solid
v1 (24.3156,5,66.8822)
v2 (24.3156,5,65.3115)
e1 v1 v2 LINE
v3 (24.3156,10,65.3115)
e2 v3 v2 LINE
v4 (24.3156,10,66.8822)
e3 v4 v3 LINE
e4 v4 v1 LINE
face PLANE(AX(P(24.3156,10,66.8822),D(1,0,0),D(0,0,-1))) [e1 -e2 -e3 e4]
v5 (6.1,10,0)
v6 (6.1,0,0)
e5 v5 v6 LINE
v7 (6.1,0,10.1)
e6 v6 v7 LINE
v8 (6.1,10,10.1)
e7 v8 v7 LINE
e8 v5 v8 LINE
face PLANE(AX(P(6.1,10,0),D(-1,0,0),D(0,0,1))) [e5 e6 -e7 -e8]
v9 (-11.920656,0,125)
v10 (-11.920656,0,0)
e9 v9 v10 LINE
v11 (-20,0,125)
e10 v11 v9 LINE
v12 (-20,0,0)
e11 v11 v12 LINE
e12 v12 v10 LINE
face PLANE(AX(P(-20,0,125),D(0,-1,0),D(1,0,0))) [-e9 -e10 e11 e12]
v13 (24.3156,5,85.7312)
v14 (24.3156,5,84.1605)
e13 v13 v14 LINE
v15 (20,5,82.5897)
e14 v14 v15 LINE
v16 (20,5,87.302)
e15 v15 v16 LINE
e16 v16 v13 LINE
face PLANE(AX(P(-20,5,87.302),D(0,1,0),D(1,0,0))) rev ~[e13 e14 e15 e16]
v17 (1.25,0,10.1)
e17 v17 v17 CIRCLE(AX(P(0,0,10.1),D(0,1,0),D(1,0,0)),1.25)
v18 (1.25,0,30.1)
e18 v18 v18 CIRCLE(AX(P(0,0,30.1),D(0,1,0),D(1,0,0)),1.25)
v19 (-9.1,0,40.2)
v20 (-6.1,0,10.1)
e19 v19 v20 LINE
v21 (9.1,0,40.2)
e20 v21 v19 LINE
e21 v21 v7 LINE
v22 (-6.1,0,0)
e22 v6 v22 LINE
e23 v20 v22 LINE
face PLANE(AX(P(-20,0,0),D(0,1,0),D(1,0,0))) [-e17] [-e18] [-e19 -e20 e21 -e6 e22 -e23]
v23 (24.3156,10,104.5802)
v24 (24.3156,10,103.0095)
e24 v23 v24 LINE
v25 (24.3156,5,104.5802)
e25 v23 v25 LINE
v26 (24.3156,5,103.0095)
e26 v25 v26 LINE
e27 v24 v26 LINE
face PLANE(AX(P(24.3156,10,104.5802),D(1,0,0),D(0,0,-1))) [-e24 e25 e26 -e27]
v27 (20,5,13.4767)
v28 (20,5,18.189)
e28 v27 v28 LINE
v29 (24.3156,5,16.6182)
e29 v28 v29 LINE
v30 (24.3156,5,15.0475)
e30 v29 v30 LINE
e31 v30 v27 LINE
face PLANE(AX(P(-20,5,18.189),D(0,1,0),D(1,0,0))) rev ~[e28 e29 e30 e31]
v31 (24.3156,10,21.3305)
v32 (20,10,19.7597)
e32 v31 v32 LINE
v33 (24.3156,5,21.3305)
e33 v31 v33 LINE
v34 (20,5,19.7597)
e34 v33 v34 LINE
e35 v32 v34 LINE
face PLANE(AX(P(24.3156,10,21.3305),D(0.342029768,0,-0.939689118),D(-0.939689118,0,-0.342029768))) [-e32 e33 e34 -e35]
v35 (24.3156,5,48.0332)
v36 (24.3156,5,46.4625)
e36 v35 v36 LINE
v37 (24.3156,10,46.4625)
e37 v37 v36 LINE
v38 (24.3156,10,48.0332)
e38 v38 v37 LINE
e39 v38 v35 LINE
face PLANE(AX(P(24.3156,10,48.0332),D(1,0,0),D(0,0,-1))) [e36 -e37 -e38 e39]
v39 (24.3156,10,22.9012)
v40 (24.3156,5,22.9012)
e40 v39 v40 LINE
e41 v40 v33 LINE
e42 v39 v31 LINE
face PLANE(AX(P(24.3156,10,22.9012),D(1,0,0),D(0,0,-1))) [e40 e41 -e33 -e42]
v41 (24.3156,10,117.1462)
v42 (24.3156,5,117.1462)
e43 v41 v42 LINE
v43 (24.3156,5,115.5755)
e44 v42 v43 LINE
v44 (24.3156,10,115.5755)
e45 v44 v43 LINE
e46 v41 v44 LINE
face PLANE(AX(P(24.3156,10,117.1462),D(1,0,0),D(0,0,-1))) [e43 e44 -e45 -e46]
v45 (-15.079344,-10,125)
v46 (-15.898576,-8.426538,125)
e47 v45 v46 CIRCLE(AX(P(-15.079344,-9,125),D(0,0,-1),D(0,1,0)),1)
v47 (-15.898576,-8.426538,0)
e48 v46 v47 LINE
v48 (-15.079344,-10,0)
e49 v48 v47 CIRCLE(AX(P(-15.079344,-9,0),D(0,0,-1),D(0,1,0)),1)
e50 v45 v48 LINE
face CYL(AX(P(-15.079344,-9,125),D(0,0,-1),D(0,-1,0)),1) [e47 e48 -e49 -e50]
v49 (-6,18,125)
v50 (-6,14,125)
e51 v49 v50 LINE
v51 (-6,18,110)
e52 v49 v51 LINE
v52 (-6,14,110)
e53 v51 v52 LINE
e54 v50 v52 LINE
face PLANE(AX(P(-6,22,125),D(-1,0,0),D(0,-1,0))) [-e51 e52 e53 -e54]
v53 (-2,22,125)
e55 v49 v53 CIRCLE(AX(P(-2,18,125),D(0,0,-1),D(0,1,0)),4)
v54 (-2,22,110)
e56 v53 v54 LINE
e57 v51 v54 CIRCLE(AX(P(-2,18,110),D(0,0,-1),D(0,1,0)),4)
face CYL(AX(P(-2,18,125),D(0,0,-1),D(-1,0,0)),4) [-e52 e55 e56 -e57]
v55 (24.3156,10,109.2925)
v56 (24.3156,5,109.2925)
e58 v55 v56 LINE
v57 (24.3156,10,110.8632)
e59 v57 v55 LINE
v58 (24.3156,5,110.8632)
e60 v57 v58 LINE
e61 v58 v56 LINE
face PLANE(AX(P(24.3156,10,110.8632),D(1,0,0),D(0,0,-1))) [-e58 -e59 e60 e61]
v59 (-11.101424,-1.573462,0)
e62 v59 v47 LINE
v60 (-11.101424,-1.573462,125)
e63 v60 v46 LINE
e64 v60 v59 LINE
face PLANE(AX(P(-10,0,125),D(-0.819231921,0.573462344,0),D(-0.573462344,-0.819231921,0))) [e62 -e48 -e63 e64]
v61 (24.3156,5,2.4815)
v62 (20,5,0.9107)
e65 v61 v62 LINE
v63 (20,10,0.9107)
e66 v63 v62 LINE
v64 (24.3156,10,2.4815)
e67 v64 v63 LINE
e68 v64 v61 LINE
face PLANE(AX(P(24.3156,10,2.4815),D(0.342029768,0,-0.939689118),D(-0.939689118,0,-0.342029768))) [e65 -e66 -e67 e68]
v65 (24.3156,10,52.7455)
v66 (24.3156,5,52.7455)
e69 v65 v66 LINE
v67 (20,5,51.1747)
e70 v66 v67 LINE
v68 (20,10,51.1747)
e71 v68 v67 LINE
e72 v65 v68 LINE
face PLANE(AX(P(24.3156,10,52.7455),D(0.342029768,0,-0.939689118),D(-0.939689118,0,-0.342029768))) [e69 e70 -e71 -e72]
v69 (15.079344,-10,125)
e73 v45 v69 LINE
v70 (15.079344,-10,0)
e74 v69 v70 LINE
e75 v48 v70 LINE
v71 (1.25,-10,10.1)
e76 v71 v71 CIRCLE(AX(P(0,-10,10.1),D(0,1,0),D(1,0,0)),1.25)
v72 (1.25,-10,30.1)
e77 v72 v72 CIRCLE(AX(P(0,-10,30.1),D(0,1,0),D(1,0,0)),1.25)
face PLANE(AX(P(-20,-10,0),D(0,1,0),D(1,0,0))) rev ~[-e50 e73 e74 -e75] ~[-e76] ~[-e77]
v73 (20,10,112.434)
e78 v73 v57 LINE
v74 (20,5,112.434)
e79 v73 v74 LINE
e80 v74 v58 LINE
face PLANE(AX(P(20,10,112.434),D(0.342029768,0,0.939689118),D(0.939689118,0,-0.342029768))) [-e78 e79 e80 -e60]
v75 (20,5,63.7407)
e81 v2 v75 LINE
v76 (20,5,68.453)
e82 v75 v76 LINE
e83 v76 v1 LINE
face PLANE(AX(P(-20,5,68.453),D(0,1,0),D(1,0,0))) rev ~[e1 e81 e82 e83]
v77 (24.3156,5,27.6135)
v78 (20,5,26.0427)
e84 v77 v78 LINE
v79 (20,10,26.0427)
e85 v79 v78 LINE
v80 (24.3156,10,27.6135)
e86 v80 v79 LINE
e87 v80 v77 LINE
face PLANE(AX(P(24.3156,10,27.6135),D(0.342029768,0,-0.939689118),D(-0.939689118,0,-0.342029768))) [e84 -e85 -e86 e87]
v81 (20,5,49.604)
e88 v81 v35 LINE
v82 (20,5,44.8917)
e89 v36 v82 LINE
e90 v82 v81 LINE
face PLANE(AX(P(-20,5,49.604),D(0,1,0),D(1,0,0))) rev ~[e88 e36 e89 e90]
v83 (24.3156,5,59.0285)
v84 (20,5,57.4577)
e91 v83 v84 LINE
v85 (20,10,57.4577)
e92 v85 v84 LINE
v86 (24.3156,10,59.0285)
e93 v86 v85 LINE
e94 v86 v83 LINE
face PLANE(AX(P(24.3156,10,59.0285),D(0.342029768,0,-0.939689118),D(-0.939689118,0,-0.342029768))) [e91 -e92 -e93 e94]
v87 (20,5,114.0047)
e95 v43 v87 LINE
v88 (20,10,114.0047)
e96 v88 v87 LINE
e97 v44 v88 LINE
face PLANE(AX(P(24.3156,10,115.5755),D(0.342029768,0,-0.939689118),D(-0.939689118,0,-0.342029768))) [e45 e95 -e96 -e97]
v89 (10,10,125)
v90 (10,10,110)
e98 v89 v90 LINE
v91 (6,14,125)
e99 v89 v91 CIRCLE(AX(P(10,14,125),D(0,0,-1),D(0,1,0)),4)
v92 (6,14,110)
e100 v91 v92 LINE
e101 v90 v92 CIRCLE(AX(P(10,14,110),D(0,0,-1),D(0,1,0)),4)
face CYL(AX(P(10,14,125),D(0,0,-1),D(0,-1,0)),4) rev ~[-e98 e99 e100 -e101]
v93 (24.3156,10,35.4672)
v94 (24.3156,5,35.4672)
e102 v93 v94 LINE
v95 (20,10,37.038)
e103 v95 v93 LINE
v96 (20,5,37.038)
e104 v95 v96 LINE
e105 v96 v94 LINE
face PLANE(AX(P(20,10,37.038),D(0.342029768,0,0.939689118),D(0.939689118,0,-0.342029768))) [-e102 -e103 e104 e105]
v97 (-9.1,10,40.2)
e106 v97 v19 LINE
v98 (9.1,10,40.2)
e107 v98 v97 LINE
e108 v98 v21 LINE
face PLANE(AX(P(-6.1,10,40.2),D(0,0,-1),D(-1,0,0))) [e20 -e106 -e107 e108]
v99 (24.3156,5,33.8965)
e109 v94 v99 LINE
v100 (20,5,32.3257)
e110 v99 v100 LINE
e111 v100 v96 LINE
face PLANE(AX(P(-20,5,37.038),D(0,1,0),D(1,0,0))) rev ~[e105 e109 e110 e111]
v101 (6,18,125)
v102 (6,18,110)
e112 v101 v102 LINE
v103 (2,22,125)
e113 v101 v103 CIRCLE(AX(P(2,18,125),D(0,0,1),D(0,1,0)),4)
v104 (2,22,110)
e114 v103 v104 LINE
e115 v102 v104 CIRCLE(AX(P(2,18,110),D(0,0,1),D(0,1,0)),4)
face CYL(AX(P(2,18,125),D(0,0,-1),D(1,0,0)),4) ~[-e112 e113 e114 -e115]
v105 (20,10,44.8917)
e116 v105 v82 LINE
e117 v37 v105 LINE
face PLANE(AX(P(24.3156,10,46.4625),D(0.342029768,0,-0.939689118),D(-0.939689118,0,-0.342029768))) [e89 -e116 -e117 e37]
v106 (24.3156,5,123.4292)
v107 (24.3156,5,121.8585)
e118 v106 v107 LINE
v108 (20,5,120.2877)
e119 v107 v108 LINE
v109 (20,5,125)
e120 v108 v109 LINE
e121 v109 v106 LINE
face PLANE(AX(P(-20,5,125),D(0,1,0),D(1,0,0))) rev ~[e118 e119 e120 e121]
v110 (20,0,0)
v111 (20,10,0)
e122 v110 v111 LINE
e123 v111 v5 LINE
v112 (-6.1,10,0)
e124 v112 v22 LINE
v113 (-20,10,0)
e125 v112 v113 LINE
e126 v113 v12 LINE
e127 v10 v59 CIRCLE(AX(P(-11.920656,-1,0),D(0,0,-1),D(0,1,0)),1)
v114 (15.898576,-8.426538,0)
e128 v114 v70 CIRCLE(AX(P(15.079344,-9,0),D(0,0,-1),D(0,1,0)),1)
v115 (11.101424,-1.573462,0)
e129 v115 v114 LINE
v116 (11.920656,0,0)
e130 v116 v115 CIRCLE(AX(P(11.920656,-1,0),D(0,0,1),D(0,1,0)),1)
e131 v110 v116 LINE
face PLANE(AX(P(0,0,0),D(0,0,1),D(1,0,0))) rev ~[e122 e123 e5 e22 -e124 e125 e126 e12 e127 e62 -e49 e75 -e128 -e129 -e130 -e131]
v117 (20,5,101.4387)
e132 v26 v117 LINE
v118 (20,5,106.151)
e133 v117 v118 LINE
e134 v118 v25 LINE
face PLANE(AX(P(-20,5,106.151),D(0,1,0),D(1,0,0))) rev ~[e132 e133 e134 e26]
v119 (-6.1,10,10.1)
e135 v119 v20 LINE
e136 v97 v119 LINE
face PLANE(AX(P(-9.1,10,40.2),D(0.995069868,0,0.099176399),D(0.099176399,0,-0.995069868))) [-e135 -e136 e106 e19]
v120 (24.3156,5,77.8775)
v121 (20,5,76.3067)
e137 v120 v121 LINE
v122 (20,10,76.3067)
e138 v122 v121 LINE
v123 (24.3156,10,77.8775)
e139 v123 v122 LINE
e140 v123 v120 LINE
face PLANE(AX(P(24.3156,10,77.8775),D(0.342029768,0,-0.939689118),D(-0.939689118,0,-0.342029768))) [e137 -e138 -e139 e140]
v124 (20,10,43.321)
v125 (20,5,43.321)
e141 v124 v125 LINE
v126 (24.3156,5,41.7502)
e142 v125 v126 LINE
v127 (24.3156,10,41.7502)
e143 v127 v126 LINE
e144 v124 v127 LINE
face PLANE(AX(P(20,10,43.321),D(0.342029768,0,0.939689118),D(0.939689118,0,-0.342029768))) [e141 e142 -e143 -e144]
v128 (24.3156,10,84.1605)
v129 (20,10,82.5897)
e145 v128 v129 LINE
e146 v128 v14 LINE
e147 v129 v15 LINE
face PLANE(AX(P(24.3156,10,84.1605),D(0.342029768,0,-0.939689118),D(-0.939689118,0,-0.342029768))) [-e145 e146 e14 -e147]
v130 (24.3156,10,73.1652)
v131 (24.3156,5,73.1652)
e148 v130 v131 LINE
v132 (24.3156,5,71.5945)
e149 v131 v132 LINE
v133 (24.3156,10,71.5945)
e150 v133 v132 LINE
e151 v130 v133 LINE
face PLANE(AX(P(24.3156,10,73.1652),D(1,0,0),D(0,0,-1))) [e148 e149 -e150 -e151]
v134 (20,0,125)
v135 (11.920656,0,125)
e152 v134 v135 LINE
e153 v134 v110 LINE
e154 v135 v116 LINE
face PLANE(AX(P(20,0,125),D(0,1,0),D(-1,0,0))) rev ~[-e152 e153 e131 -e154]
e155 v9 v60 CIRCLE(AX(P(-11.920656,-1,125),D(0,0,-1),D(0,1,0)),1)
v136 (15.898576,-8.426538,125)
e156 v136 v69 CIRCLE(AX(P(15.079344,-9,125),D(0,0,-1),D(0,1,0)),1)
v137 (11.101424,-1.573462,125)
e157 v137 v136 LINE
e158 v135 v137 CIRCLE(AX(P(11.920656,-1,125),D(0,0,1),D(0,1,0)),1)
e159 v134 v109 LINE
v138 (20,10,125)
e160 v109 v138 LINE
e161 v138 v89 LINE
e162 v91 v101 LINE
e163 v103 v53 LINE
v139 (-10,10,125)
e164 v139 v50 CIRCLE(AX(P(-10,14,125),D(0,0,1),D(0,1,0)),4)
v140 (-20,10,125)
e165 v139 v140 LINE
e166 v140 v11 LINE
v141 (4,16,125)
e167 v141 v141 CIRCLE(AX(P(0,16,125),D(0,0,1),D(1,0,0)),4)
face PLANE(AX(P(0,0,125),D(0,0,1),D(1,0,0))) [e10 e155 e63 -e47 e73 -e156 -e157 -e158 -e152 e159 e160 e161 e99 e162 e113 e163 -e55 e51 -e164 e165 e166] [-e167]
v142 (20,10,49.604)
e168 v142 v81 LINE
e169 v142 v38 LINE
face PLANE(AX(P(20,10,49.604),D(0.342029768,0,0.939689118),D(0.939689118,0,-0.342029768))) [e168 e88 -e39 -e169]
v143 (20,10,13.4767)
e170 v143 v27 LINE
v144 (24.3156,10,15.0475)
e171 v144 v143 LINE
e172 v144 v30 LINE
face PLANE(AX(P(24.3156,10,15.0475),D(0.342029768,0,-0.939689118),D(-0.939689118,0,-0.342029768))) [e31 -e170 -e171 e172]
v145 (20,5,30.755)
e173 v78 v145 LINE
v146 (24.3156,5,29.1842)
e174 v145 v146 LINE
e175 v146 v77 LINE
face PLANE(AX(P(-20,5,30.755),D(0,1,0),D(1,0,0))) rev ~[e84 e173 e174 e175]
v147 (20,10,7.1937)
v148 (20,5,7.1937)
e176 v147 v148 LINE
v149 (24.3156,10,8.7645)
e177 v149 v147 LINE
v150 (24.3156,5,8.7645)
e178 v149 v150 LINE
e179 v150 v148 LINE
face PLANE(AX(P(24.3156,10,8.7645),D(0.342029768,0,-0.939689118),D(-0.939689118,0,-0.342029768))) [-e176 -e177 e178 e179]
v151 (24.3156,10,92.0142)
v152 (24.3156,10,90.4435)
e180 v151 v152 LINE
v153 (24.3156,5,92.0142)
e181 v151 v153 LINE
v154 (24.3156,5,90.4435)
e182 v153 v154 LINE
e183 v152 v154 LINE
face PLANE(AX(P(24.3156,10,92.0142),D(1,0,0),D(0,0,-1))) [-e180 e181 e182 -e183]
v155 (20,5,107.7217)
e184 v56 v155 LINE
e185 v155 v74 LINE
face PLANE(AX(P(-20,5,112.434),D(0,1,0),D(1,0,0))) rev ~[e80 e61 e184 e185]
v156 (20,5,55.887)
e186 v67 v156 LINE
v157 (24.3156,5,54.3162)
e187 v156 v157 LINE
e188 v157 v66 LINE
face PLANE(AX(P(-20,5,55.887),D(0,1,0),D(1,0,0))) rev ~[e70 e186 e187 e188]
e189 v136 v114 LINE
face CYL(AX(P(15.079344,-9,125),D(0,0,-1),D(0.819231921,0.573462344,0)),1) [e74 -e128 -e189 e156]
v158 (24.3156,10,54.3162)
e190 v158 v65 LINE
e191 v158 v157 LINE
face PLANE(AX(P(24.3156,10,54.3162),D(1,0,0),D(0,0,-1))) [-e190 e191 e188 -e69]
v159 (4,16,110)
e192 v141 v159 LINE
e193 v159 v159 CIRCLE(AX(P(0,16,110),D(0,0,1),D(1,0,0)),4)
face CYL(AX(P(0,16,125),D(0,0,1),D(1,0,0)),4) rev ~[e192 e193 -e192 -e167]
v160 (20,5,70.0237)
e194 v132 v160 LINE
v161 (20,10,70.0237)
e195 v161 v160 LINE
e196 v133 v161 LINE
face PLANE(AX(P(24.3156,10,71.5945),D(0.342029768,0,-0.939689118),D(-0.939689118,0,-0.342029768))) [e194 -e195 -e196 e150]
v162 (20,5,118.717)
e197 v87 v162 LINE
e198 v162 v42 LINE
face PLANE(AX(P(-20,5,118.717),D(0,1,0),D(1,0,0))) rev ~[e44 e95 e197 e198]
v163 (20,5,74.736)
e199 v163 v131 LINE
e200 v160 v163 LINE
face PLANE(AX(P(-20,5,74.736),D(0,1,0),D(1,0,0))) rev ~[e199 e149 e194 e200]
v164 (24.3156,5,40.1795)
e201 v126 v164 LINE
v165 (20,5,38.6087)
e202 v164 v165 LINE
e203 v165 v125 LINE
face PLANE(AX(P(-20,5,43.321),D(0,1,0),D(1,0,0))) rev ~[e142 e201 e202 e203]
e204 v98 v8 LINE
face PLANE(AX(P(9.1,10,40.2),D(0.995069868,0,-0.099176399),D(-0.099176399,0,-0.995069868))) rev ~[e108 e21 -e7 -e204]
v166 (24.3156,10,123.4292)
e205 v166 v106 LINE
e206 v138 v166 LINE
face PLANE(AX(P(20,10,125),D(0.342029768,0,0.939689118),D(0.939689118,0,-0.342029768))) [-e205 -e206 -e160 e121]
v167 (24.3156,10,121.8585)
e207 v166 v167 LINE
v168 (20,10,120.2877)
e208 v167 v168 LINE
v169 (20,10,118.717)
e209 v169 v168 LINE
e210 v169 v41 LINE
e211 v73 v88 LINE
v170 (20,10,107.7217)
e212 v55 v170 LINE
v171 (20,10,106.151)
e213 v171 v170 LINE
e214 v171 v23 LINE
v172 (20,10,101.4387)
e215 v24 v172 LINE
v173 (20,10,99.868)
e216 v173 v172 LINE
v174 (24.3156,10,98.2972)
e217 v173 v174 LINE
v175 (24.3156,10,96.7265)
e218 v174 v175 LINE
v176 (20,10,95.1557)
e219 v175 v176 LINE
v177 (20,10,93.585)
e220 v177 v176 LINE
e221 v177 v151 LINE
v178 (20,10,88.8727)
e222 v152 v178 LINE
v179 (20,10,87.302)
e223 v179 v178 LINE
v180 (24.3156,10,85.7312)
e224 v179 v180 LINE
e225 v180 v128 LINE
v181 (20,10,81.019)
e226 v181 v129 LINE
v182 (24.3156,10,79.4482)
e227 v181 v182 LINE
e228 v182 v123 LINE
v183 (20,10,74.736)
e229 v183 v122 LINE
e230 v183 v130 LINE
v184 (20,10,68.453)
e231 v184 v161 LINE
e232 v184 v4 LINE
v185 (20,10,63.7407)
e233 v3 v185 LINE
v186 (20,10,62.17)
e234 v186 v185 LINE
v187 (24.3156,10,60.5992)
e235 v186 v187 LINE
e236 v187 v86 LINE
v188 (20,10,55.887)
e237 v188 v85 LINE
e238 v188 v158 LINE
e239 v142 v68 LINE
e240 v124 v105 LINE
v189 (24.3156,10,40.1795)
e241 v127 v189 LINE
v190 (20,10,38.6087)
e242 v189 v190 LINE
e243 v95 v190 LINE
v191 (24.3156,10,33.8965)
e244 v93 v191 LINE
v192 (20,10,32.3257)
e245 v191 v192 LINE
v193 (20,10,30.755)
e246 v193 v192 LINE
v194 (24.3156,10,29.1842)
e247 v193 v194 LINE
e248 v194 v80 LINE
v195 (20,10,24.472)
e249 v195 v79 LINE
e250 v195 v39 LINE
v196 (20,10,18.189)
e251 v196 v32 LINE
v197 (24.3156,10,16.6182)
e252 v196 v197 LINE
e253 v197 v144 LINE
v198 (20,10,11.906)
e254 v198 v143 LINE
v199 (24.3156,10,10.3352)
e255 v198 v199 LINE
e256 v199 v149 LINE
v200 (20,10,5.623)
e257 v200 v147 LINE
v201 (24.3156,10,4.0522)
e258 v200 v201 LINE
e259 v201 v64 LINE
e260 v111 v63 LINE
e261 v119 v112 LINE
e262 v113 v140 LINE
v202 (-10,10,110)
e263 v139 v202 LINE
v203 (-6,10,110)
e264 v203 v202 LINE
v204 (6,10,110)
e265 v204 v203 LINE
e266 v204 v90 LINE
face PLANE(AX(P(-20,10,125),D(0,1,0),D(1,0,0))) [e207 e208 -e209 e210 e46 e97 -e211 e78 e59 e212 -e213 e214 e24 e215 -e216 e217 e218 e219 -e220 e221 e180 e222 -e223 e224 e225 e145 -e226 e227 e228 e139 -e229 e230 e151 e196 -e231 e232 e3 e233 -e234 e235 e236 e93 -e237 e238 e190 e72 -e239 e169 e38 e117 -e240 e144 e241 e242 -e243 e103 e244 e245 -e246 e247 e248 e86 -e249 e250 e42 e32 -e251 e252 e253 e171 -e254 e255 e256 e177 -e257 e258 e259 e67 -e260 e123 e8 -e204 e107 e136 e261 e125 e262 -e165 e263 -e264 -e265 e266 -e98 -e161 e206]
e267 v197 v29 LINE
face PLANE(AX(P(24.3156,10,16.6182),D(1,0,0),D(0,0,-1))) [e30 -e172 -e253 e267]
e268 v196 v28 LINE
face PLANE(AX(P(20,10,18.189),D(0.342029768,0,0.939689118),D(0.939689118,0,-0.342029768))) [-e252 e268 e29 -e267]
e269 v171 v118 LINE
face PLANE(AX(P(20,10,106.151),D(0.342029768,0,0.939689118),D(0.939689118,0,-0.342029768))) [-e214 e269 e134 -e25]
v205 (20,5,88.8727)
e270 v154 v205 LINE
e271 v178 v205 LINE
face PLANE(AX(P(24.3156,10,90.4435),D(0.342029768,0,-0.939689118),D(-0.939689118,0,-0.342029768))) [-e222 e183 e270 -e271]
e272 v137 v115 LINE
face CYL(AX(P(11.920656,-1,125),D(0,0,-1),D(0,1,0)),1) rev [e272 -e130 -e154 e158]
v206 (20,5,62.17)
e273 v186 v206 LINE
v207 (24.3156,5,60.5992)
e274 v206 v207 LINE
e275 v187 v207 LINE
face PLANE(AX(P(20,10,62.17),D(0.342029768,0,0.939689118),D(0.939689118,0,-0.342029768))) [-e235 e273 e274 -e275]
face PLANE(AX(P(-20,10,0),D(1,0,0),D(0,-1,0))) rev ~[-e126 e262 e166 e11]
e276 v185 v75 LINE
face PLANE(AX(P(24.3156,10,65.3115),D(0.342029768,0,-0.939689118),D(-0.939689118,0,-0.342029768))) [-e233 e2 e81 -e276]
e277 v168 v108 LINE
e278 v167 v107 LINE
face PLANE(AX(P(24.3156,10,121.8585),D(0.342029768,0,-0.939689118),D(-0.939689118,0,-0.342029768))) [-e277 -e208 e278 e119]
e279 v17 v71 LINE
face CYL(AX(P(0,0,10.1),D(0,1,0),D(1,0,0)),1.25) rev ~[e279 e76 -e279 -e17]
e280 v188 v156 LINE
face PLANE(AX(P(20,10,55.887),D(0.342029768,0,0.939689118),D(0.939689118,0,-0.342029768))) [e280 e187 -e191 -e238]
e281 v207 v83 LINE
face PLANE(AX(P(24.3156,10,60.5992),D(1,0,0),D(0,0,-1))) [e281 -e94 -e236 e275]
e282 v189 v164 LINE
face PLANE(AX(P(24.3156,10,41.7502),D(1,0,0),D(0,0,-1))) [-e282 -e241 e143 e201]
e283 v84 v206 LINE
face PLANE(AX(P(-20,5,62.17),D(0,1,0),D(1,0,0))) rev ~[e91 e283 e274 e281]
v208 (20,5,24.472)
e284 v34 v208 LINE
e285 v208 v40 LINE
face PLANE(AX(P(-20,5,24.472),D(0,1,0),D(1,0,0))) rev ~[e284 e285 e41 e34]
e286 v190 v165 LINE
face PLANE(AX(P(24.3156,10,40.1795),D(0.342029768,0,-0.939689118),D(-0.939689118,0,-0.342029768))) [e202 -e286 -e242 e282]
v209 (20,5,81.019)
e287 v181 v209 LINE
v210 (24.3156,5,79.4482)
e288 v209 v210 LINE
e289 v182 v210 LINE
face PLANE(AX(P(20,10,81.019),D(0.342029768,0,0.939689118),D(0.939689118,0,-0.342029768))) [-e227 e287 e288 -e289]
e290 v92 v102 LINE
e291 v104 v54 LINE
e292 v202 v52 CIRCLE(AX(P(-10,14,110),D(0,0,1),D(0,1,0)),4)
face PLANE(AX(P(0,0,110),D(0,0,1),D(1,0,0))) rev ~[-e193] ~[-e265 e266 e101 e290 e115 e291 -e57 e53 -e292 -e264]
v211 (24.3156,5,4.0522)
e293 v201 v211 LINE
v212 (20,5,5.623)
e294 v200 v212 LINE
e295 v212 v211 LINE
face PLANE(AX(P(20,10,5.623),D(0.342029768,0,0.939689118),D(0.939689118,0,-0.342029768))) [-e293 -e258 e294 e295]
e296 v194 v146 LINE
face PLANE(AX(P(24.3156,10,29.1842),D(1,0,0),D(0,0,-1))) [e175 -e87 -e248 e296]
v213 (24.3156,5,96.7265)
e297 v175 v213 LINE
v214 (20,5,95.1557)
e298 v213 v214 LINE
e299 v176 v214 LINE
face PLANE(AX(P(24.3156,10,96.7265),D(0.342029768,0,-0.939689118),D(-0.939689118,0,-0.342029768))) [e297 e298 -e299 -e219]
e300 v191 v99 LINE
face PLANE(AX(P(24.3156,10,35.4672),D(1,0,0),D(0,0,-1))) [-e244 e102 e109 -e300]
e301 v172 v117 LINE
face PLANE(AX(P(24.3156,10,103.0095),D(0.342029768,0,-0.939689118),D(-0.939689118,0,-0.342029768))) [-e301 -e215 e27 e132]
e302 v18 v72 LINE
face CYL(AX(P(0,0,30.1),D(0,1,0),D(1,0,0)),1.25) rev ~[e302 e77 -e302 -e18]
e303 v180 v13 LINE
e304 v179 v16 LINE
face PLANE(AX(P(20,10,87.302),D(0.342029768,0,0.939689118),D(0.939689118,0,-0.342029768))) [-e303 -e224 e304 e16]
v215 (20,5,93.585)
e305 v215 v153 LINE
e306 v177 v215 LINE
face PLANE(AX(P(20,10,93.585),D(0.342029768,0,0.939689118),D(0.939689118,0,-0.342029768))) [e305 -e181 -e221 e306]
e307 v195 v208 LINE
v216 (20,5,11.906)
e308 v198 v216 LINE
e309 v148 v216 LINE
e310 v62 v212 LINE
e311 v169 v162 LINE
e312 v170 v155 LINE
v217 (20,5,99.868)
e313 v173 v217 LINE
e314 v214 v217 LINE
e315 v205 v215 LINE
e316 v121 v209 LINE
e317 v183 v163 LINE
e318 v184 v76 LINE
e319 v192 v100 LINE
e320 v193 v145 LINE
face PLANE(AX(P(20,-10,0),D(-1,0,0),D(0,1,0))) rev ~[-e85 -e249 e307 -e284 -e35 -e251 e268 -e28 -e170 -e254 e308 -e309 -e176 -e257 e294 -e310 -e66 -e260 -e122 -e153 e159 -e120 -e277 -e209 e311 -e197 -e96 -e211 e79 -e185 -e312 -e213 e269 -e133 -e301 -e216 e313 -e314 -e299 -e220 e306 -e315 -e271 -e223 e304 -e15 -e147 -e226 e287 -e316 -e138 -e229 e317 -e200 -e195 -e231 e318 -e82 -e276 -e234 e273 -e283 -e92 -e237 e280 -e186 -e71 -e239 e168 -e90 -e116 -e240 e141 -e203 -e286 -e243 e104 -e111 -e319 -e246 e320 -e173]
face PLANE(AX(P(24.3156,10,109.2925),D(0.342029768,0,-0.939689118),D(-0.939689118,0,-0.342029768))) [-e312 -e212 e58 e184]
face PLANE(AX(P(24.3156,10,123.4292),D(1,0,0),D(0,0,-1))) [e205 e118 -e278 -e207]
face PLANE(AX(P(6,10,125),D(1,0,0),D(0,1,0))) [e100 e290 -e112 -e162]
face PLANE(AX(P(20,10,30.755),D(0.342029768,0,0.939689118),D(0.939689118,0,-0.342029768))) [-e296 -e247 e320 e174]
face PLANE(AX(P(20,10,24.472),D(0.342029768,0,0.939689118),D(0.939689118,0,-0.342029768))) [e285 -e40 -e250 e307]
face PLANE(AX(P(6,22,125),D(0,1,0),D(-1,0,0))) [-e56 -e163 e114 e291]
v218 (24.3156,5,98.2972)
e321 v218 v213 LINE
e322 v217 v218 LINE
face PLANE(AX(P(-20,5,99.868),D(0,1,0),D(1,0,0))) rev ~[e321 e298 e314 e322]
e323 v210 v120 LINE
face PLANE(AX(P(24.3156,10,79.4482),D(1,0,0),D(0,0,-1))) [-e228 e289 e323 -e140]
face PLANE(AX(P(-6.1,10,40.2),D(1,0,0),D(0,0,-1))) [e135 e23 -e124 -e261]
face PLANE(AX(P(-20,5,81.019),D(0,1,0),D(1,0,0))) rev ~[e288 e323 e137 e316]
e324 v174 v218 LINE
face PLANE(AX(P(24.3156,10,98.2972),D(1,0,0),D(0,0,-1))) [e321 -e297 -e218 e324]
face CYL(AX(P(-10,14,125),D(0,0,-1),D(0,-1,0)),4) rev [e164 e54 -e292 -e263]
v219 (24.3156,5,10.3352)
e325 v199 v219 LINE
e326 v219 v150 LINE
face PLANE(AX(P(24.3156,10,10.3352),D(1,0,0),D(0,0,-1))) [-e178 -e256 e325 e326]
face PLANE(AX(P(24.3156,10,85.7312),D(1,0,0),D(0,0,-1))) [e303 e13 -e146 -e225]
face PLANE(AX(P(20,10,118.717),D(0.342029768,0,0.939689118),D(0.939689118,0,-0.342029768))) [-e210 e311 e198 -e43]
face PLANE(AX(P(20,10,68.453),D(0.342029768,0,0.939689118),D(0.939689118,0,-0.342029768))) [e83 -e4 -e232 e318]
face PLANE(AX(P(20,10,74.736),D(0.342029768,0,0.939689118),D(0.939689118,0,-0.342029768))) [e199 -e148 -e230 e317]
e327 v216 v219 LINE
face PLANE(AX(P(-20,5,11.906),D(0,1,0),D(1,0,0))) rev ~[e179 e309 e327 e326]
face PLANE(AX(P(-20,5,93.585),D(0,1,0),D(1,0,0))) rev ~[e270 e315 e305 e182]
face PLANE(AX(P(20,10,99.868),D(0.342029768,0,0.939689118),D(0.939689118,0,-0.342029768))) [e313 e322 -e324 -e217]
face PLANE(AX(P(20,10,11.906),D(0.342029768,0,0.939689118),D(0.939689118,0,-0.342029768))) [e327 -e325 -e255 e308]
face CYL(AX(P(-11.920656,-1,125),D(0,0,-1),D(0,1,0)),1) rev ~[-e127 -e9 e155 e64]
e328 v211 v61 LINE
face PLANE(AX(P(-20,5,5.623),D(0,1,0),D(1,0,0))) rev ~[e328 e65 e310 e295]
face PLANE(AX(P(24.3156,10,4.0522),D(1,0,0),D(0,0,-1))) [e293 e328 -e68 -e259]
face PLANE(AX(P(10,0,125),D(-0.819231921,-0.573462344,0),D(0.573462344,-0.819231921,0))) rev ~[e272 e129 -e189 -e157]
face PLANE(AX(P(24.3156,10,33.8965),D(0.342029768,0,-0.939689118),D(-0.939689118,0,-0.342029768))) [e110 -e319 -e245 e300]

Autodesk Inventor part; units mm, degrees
ref_plane "YZ Plane" through (0, 0, 0) normal (1, 0, 0) x (0, 1, 0)
ref_plane "XZ Plane" through (0, 0, 0) normal (0, 1, 0) x (-1, 0, 0)
ref_plane "XY Plane" through (0, 0, 0) normal (0, 0, 1) x (1, 0, 0)
sketch "Sketch1" plane through (0, 0, 0) normal (0, 0, 1) x (1, 0, 0)
  line L0 (-20, -10) -> (20, -10)
  line L1 (20, -10) -> (20, 10)
  line L2 (20, 10) -> (-20, 10)
  line L3 (-20, 10) -> (-20, -10)
  point P0 (0, 0)
  dimension "d0" = 40
  dimension "d1" = 20
  dimension "d2" = 10
  dimension "d3" = 20
extrude "Extrusion1" add sketch "Sketch1" along normal blind 125
sketch "Sketch2" plane through (-20, 10, 0) normal (0, 1, 0) x (1, 0, 0)
  line L0 (40, 0) -> (0, 0) projected
  line L1 (13.9, 0) -> (26.1, 0)
  line L2 (26.1, 0) -> (26.1, -40.2)
  line L3 (26.1, -40.2) -> (13.9, -40.2)
  line L4 (13.9, -40.2) -> (13.9, 0)
  point P0 (20, 0)
  point P1 (26.1, 0)
  dimension "d6" = 40.2
  dimension "d7" = 12.2
  dimension "d8" = 13.9
extrude "Extrusion2" cut sketch "Sketch2" against normal blind 10
sketch "Sketch4" plane through (-20, 0, 0) normal (0, 1, 0) x (1, 0, 0)
  circle A0 centre (20, -10.1) radius 1.25
  line L0 (13.9, 0) -> (26.1, 0) projected
  line L1 (13.9, -40.2) -> (13.9, 0) projected
  circle A1 centre (20, -30.1) radius 1.25
  point P0 (20, 0)
  dimension "d14" = 2.5
  dimension "d15" = 10.1
  dimension "d16" = 6.1
  dimension "d35" = 20
  dimension "d36" = 6.1
extrude "Extrusion4" cut sketch "Sketch4" against normal through all
sketch "Sketch5" plane through (0, 0, 125) normal (0, 0, 1) x (1, 0, 0)
  line L0 (-20, 10) -> (-20, -10) projected
  line L1 (20, -10) -> (20, 10) projected
  line L2 (-20, 0) -> (-10, 0)
  line L3 (-10, 0) -> (-20, -10)
  line L4 (-20, 0) -> (-20, -10)
  line L5 (20, 0) -> (20, -10)
  line L6 (20, 0) -> (10, 0)
  line L7 (10, 0) -> (20, -10)
  line L8 (-20, -10) -> (-17, -10)
  line L9 (-20, -10) -> (20, -10) projected
  line L10 (-10, 0) -> (-17, -10)
  line L11 (10, 0) -> (17, -10)
  line L12 (17, -10) -> (20, -10)
  point P0 (0, 0)
  point P1 (20, 5.7)
  dimension "d19" = 10
  dimension "d21" = 10
  dimension "d24" = 3
  dimension "d25" = 3
extrude "Extrusion5" cut sketch "Sketch5" against normal through all
fillet "Fillet1" radius 1 4 edges at (17, -10, 62.5) (10, 0, 62.5) (-17, -10, 62.5) (-10, 0, 62.5)
sketch "Sketch8" plane through (-20, 10, 125) normal (0, 1, 0) x (1, 0, 0)
  line L0 (40, 125) -> (40, 0) projected
  line L1 (40, 0) -> (0, 0) projected
  line L2 (40, 0) -> (44.3156, 1.5708)
  line L3 (44.3156, 1.5708) -> (44.3156, 3.1415)
  line L4 (44.3156, 3.1415) -> (40, 4.7123)
  line L5 (40, 0) -> (40, 6.283)
  point P0 (20, 125)
  dimension "d51" = 110
  dimension "d52" = 70
  dimension "d53" = 1.5708
  dimension "d54" = 6.283
  dimension "d55" = 1.5708
extrude "Extrusion8" add sketch "Sketch8" against normal blind 5
pattern_linear "Rectangular Pattern2" count 20 spacing 6.283 along (0, 0, -1) of "Extrusion8"
sketch "Sketch9" plane through (-20, 10, 125) normal (0, 1, 0) x (1, 0, 0)
  circle A0 centre (20, 114.9) radius 1.25 projected
  circle A1 centre (20, 94.9) radius 1.25 projected
  line L0 (13.9, 125) -> (26.1, 125) projected
  line L1 (13.9, 84.8) -> (13.9, 125) projected
  line L2 (26.1, 84.8) -> (13.9, 84.8) projected
  line L3 (26.1, 125) -> (26.1, 84.8) projected
  line L4 (26.1, 84.8) -> (29.1, 84.8)
  line L5 (29.1, 84.8) -> (26.1, 114.9)
  line L6 (26.1, 125) -> (26.1, 84.8) projected
  line L7 (26.1, 84.8) -> (13.9, 84.8) projected
  line L8 (13.9, 84.8) -> (10.9, 84.8)
  line L9 (10.9, 84.8) -> (13.9, 114.9)
  point P0 (20, 125)
  dimension "d61" = 3
  dimension "d62" = 3
extrude "Extrusion9" cut sketch "Sketch9" against normal up to surface (10 mm away) contours L1 L8 L9 | L5 L4 L3
sketch "Sketch10" plane through (0, 0, 125) normal (0, 0, 1) x (1, 0, 0)
  line L0 (20, 10) -> (-20, 10) projected
  line L1 (9.1, 10) -> (-9.1, 10) projected
  line L2 (-6, 10) -> (6, 10)
  line L3 (6, 10) -> (6, 22)
  line L4 (6, 22) -> (-6, 22)
  line L5 (-6, 22) -> (-6, 10)
  circle A0 centre (0, 16) radius 4
  point P0 (0, 0)
  point P1 (0, 22)
  point P2 (0, 10)
  dimension "d65" = 12
  dimension "d66" = 12
  dimension "d67" = 8
extrude "Extrusion10" add sketch "Sketch10" against normal blind 15
fillet "Fillet2" radius 4 4 edges at (6, 10, 117.5) (-6, 10, 117.5) (6, 22, 117.5) (-6, 22, 117.5)
thread "Thread1" size "TR8x1.5" class "7H" standard "ISO Metric Trapezoidal Threads" full length
equation "\"d2\" = 0.5 * d1"
equation "\"d3\" = 0.5 * d0"
equation "\"d55\" = d53"
equation "\"d62\" = d61"
properties part number "6102_Dovetail Slider_V3" material "Acetal Resin, White"
